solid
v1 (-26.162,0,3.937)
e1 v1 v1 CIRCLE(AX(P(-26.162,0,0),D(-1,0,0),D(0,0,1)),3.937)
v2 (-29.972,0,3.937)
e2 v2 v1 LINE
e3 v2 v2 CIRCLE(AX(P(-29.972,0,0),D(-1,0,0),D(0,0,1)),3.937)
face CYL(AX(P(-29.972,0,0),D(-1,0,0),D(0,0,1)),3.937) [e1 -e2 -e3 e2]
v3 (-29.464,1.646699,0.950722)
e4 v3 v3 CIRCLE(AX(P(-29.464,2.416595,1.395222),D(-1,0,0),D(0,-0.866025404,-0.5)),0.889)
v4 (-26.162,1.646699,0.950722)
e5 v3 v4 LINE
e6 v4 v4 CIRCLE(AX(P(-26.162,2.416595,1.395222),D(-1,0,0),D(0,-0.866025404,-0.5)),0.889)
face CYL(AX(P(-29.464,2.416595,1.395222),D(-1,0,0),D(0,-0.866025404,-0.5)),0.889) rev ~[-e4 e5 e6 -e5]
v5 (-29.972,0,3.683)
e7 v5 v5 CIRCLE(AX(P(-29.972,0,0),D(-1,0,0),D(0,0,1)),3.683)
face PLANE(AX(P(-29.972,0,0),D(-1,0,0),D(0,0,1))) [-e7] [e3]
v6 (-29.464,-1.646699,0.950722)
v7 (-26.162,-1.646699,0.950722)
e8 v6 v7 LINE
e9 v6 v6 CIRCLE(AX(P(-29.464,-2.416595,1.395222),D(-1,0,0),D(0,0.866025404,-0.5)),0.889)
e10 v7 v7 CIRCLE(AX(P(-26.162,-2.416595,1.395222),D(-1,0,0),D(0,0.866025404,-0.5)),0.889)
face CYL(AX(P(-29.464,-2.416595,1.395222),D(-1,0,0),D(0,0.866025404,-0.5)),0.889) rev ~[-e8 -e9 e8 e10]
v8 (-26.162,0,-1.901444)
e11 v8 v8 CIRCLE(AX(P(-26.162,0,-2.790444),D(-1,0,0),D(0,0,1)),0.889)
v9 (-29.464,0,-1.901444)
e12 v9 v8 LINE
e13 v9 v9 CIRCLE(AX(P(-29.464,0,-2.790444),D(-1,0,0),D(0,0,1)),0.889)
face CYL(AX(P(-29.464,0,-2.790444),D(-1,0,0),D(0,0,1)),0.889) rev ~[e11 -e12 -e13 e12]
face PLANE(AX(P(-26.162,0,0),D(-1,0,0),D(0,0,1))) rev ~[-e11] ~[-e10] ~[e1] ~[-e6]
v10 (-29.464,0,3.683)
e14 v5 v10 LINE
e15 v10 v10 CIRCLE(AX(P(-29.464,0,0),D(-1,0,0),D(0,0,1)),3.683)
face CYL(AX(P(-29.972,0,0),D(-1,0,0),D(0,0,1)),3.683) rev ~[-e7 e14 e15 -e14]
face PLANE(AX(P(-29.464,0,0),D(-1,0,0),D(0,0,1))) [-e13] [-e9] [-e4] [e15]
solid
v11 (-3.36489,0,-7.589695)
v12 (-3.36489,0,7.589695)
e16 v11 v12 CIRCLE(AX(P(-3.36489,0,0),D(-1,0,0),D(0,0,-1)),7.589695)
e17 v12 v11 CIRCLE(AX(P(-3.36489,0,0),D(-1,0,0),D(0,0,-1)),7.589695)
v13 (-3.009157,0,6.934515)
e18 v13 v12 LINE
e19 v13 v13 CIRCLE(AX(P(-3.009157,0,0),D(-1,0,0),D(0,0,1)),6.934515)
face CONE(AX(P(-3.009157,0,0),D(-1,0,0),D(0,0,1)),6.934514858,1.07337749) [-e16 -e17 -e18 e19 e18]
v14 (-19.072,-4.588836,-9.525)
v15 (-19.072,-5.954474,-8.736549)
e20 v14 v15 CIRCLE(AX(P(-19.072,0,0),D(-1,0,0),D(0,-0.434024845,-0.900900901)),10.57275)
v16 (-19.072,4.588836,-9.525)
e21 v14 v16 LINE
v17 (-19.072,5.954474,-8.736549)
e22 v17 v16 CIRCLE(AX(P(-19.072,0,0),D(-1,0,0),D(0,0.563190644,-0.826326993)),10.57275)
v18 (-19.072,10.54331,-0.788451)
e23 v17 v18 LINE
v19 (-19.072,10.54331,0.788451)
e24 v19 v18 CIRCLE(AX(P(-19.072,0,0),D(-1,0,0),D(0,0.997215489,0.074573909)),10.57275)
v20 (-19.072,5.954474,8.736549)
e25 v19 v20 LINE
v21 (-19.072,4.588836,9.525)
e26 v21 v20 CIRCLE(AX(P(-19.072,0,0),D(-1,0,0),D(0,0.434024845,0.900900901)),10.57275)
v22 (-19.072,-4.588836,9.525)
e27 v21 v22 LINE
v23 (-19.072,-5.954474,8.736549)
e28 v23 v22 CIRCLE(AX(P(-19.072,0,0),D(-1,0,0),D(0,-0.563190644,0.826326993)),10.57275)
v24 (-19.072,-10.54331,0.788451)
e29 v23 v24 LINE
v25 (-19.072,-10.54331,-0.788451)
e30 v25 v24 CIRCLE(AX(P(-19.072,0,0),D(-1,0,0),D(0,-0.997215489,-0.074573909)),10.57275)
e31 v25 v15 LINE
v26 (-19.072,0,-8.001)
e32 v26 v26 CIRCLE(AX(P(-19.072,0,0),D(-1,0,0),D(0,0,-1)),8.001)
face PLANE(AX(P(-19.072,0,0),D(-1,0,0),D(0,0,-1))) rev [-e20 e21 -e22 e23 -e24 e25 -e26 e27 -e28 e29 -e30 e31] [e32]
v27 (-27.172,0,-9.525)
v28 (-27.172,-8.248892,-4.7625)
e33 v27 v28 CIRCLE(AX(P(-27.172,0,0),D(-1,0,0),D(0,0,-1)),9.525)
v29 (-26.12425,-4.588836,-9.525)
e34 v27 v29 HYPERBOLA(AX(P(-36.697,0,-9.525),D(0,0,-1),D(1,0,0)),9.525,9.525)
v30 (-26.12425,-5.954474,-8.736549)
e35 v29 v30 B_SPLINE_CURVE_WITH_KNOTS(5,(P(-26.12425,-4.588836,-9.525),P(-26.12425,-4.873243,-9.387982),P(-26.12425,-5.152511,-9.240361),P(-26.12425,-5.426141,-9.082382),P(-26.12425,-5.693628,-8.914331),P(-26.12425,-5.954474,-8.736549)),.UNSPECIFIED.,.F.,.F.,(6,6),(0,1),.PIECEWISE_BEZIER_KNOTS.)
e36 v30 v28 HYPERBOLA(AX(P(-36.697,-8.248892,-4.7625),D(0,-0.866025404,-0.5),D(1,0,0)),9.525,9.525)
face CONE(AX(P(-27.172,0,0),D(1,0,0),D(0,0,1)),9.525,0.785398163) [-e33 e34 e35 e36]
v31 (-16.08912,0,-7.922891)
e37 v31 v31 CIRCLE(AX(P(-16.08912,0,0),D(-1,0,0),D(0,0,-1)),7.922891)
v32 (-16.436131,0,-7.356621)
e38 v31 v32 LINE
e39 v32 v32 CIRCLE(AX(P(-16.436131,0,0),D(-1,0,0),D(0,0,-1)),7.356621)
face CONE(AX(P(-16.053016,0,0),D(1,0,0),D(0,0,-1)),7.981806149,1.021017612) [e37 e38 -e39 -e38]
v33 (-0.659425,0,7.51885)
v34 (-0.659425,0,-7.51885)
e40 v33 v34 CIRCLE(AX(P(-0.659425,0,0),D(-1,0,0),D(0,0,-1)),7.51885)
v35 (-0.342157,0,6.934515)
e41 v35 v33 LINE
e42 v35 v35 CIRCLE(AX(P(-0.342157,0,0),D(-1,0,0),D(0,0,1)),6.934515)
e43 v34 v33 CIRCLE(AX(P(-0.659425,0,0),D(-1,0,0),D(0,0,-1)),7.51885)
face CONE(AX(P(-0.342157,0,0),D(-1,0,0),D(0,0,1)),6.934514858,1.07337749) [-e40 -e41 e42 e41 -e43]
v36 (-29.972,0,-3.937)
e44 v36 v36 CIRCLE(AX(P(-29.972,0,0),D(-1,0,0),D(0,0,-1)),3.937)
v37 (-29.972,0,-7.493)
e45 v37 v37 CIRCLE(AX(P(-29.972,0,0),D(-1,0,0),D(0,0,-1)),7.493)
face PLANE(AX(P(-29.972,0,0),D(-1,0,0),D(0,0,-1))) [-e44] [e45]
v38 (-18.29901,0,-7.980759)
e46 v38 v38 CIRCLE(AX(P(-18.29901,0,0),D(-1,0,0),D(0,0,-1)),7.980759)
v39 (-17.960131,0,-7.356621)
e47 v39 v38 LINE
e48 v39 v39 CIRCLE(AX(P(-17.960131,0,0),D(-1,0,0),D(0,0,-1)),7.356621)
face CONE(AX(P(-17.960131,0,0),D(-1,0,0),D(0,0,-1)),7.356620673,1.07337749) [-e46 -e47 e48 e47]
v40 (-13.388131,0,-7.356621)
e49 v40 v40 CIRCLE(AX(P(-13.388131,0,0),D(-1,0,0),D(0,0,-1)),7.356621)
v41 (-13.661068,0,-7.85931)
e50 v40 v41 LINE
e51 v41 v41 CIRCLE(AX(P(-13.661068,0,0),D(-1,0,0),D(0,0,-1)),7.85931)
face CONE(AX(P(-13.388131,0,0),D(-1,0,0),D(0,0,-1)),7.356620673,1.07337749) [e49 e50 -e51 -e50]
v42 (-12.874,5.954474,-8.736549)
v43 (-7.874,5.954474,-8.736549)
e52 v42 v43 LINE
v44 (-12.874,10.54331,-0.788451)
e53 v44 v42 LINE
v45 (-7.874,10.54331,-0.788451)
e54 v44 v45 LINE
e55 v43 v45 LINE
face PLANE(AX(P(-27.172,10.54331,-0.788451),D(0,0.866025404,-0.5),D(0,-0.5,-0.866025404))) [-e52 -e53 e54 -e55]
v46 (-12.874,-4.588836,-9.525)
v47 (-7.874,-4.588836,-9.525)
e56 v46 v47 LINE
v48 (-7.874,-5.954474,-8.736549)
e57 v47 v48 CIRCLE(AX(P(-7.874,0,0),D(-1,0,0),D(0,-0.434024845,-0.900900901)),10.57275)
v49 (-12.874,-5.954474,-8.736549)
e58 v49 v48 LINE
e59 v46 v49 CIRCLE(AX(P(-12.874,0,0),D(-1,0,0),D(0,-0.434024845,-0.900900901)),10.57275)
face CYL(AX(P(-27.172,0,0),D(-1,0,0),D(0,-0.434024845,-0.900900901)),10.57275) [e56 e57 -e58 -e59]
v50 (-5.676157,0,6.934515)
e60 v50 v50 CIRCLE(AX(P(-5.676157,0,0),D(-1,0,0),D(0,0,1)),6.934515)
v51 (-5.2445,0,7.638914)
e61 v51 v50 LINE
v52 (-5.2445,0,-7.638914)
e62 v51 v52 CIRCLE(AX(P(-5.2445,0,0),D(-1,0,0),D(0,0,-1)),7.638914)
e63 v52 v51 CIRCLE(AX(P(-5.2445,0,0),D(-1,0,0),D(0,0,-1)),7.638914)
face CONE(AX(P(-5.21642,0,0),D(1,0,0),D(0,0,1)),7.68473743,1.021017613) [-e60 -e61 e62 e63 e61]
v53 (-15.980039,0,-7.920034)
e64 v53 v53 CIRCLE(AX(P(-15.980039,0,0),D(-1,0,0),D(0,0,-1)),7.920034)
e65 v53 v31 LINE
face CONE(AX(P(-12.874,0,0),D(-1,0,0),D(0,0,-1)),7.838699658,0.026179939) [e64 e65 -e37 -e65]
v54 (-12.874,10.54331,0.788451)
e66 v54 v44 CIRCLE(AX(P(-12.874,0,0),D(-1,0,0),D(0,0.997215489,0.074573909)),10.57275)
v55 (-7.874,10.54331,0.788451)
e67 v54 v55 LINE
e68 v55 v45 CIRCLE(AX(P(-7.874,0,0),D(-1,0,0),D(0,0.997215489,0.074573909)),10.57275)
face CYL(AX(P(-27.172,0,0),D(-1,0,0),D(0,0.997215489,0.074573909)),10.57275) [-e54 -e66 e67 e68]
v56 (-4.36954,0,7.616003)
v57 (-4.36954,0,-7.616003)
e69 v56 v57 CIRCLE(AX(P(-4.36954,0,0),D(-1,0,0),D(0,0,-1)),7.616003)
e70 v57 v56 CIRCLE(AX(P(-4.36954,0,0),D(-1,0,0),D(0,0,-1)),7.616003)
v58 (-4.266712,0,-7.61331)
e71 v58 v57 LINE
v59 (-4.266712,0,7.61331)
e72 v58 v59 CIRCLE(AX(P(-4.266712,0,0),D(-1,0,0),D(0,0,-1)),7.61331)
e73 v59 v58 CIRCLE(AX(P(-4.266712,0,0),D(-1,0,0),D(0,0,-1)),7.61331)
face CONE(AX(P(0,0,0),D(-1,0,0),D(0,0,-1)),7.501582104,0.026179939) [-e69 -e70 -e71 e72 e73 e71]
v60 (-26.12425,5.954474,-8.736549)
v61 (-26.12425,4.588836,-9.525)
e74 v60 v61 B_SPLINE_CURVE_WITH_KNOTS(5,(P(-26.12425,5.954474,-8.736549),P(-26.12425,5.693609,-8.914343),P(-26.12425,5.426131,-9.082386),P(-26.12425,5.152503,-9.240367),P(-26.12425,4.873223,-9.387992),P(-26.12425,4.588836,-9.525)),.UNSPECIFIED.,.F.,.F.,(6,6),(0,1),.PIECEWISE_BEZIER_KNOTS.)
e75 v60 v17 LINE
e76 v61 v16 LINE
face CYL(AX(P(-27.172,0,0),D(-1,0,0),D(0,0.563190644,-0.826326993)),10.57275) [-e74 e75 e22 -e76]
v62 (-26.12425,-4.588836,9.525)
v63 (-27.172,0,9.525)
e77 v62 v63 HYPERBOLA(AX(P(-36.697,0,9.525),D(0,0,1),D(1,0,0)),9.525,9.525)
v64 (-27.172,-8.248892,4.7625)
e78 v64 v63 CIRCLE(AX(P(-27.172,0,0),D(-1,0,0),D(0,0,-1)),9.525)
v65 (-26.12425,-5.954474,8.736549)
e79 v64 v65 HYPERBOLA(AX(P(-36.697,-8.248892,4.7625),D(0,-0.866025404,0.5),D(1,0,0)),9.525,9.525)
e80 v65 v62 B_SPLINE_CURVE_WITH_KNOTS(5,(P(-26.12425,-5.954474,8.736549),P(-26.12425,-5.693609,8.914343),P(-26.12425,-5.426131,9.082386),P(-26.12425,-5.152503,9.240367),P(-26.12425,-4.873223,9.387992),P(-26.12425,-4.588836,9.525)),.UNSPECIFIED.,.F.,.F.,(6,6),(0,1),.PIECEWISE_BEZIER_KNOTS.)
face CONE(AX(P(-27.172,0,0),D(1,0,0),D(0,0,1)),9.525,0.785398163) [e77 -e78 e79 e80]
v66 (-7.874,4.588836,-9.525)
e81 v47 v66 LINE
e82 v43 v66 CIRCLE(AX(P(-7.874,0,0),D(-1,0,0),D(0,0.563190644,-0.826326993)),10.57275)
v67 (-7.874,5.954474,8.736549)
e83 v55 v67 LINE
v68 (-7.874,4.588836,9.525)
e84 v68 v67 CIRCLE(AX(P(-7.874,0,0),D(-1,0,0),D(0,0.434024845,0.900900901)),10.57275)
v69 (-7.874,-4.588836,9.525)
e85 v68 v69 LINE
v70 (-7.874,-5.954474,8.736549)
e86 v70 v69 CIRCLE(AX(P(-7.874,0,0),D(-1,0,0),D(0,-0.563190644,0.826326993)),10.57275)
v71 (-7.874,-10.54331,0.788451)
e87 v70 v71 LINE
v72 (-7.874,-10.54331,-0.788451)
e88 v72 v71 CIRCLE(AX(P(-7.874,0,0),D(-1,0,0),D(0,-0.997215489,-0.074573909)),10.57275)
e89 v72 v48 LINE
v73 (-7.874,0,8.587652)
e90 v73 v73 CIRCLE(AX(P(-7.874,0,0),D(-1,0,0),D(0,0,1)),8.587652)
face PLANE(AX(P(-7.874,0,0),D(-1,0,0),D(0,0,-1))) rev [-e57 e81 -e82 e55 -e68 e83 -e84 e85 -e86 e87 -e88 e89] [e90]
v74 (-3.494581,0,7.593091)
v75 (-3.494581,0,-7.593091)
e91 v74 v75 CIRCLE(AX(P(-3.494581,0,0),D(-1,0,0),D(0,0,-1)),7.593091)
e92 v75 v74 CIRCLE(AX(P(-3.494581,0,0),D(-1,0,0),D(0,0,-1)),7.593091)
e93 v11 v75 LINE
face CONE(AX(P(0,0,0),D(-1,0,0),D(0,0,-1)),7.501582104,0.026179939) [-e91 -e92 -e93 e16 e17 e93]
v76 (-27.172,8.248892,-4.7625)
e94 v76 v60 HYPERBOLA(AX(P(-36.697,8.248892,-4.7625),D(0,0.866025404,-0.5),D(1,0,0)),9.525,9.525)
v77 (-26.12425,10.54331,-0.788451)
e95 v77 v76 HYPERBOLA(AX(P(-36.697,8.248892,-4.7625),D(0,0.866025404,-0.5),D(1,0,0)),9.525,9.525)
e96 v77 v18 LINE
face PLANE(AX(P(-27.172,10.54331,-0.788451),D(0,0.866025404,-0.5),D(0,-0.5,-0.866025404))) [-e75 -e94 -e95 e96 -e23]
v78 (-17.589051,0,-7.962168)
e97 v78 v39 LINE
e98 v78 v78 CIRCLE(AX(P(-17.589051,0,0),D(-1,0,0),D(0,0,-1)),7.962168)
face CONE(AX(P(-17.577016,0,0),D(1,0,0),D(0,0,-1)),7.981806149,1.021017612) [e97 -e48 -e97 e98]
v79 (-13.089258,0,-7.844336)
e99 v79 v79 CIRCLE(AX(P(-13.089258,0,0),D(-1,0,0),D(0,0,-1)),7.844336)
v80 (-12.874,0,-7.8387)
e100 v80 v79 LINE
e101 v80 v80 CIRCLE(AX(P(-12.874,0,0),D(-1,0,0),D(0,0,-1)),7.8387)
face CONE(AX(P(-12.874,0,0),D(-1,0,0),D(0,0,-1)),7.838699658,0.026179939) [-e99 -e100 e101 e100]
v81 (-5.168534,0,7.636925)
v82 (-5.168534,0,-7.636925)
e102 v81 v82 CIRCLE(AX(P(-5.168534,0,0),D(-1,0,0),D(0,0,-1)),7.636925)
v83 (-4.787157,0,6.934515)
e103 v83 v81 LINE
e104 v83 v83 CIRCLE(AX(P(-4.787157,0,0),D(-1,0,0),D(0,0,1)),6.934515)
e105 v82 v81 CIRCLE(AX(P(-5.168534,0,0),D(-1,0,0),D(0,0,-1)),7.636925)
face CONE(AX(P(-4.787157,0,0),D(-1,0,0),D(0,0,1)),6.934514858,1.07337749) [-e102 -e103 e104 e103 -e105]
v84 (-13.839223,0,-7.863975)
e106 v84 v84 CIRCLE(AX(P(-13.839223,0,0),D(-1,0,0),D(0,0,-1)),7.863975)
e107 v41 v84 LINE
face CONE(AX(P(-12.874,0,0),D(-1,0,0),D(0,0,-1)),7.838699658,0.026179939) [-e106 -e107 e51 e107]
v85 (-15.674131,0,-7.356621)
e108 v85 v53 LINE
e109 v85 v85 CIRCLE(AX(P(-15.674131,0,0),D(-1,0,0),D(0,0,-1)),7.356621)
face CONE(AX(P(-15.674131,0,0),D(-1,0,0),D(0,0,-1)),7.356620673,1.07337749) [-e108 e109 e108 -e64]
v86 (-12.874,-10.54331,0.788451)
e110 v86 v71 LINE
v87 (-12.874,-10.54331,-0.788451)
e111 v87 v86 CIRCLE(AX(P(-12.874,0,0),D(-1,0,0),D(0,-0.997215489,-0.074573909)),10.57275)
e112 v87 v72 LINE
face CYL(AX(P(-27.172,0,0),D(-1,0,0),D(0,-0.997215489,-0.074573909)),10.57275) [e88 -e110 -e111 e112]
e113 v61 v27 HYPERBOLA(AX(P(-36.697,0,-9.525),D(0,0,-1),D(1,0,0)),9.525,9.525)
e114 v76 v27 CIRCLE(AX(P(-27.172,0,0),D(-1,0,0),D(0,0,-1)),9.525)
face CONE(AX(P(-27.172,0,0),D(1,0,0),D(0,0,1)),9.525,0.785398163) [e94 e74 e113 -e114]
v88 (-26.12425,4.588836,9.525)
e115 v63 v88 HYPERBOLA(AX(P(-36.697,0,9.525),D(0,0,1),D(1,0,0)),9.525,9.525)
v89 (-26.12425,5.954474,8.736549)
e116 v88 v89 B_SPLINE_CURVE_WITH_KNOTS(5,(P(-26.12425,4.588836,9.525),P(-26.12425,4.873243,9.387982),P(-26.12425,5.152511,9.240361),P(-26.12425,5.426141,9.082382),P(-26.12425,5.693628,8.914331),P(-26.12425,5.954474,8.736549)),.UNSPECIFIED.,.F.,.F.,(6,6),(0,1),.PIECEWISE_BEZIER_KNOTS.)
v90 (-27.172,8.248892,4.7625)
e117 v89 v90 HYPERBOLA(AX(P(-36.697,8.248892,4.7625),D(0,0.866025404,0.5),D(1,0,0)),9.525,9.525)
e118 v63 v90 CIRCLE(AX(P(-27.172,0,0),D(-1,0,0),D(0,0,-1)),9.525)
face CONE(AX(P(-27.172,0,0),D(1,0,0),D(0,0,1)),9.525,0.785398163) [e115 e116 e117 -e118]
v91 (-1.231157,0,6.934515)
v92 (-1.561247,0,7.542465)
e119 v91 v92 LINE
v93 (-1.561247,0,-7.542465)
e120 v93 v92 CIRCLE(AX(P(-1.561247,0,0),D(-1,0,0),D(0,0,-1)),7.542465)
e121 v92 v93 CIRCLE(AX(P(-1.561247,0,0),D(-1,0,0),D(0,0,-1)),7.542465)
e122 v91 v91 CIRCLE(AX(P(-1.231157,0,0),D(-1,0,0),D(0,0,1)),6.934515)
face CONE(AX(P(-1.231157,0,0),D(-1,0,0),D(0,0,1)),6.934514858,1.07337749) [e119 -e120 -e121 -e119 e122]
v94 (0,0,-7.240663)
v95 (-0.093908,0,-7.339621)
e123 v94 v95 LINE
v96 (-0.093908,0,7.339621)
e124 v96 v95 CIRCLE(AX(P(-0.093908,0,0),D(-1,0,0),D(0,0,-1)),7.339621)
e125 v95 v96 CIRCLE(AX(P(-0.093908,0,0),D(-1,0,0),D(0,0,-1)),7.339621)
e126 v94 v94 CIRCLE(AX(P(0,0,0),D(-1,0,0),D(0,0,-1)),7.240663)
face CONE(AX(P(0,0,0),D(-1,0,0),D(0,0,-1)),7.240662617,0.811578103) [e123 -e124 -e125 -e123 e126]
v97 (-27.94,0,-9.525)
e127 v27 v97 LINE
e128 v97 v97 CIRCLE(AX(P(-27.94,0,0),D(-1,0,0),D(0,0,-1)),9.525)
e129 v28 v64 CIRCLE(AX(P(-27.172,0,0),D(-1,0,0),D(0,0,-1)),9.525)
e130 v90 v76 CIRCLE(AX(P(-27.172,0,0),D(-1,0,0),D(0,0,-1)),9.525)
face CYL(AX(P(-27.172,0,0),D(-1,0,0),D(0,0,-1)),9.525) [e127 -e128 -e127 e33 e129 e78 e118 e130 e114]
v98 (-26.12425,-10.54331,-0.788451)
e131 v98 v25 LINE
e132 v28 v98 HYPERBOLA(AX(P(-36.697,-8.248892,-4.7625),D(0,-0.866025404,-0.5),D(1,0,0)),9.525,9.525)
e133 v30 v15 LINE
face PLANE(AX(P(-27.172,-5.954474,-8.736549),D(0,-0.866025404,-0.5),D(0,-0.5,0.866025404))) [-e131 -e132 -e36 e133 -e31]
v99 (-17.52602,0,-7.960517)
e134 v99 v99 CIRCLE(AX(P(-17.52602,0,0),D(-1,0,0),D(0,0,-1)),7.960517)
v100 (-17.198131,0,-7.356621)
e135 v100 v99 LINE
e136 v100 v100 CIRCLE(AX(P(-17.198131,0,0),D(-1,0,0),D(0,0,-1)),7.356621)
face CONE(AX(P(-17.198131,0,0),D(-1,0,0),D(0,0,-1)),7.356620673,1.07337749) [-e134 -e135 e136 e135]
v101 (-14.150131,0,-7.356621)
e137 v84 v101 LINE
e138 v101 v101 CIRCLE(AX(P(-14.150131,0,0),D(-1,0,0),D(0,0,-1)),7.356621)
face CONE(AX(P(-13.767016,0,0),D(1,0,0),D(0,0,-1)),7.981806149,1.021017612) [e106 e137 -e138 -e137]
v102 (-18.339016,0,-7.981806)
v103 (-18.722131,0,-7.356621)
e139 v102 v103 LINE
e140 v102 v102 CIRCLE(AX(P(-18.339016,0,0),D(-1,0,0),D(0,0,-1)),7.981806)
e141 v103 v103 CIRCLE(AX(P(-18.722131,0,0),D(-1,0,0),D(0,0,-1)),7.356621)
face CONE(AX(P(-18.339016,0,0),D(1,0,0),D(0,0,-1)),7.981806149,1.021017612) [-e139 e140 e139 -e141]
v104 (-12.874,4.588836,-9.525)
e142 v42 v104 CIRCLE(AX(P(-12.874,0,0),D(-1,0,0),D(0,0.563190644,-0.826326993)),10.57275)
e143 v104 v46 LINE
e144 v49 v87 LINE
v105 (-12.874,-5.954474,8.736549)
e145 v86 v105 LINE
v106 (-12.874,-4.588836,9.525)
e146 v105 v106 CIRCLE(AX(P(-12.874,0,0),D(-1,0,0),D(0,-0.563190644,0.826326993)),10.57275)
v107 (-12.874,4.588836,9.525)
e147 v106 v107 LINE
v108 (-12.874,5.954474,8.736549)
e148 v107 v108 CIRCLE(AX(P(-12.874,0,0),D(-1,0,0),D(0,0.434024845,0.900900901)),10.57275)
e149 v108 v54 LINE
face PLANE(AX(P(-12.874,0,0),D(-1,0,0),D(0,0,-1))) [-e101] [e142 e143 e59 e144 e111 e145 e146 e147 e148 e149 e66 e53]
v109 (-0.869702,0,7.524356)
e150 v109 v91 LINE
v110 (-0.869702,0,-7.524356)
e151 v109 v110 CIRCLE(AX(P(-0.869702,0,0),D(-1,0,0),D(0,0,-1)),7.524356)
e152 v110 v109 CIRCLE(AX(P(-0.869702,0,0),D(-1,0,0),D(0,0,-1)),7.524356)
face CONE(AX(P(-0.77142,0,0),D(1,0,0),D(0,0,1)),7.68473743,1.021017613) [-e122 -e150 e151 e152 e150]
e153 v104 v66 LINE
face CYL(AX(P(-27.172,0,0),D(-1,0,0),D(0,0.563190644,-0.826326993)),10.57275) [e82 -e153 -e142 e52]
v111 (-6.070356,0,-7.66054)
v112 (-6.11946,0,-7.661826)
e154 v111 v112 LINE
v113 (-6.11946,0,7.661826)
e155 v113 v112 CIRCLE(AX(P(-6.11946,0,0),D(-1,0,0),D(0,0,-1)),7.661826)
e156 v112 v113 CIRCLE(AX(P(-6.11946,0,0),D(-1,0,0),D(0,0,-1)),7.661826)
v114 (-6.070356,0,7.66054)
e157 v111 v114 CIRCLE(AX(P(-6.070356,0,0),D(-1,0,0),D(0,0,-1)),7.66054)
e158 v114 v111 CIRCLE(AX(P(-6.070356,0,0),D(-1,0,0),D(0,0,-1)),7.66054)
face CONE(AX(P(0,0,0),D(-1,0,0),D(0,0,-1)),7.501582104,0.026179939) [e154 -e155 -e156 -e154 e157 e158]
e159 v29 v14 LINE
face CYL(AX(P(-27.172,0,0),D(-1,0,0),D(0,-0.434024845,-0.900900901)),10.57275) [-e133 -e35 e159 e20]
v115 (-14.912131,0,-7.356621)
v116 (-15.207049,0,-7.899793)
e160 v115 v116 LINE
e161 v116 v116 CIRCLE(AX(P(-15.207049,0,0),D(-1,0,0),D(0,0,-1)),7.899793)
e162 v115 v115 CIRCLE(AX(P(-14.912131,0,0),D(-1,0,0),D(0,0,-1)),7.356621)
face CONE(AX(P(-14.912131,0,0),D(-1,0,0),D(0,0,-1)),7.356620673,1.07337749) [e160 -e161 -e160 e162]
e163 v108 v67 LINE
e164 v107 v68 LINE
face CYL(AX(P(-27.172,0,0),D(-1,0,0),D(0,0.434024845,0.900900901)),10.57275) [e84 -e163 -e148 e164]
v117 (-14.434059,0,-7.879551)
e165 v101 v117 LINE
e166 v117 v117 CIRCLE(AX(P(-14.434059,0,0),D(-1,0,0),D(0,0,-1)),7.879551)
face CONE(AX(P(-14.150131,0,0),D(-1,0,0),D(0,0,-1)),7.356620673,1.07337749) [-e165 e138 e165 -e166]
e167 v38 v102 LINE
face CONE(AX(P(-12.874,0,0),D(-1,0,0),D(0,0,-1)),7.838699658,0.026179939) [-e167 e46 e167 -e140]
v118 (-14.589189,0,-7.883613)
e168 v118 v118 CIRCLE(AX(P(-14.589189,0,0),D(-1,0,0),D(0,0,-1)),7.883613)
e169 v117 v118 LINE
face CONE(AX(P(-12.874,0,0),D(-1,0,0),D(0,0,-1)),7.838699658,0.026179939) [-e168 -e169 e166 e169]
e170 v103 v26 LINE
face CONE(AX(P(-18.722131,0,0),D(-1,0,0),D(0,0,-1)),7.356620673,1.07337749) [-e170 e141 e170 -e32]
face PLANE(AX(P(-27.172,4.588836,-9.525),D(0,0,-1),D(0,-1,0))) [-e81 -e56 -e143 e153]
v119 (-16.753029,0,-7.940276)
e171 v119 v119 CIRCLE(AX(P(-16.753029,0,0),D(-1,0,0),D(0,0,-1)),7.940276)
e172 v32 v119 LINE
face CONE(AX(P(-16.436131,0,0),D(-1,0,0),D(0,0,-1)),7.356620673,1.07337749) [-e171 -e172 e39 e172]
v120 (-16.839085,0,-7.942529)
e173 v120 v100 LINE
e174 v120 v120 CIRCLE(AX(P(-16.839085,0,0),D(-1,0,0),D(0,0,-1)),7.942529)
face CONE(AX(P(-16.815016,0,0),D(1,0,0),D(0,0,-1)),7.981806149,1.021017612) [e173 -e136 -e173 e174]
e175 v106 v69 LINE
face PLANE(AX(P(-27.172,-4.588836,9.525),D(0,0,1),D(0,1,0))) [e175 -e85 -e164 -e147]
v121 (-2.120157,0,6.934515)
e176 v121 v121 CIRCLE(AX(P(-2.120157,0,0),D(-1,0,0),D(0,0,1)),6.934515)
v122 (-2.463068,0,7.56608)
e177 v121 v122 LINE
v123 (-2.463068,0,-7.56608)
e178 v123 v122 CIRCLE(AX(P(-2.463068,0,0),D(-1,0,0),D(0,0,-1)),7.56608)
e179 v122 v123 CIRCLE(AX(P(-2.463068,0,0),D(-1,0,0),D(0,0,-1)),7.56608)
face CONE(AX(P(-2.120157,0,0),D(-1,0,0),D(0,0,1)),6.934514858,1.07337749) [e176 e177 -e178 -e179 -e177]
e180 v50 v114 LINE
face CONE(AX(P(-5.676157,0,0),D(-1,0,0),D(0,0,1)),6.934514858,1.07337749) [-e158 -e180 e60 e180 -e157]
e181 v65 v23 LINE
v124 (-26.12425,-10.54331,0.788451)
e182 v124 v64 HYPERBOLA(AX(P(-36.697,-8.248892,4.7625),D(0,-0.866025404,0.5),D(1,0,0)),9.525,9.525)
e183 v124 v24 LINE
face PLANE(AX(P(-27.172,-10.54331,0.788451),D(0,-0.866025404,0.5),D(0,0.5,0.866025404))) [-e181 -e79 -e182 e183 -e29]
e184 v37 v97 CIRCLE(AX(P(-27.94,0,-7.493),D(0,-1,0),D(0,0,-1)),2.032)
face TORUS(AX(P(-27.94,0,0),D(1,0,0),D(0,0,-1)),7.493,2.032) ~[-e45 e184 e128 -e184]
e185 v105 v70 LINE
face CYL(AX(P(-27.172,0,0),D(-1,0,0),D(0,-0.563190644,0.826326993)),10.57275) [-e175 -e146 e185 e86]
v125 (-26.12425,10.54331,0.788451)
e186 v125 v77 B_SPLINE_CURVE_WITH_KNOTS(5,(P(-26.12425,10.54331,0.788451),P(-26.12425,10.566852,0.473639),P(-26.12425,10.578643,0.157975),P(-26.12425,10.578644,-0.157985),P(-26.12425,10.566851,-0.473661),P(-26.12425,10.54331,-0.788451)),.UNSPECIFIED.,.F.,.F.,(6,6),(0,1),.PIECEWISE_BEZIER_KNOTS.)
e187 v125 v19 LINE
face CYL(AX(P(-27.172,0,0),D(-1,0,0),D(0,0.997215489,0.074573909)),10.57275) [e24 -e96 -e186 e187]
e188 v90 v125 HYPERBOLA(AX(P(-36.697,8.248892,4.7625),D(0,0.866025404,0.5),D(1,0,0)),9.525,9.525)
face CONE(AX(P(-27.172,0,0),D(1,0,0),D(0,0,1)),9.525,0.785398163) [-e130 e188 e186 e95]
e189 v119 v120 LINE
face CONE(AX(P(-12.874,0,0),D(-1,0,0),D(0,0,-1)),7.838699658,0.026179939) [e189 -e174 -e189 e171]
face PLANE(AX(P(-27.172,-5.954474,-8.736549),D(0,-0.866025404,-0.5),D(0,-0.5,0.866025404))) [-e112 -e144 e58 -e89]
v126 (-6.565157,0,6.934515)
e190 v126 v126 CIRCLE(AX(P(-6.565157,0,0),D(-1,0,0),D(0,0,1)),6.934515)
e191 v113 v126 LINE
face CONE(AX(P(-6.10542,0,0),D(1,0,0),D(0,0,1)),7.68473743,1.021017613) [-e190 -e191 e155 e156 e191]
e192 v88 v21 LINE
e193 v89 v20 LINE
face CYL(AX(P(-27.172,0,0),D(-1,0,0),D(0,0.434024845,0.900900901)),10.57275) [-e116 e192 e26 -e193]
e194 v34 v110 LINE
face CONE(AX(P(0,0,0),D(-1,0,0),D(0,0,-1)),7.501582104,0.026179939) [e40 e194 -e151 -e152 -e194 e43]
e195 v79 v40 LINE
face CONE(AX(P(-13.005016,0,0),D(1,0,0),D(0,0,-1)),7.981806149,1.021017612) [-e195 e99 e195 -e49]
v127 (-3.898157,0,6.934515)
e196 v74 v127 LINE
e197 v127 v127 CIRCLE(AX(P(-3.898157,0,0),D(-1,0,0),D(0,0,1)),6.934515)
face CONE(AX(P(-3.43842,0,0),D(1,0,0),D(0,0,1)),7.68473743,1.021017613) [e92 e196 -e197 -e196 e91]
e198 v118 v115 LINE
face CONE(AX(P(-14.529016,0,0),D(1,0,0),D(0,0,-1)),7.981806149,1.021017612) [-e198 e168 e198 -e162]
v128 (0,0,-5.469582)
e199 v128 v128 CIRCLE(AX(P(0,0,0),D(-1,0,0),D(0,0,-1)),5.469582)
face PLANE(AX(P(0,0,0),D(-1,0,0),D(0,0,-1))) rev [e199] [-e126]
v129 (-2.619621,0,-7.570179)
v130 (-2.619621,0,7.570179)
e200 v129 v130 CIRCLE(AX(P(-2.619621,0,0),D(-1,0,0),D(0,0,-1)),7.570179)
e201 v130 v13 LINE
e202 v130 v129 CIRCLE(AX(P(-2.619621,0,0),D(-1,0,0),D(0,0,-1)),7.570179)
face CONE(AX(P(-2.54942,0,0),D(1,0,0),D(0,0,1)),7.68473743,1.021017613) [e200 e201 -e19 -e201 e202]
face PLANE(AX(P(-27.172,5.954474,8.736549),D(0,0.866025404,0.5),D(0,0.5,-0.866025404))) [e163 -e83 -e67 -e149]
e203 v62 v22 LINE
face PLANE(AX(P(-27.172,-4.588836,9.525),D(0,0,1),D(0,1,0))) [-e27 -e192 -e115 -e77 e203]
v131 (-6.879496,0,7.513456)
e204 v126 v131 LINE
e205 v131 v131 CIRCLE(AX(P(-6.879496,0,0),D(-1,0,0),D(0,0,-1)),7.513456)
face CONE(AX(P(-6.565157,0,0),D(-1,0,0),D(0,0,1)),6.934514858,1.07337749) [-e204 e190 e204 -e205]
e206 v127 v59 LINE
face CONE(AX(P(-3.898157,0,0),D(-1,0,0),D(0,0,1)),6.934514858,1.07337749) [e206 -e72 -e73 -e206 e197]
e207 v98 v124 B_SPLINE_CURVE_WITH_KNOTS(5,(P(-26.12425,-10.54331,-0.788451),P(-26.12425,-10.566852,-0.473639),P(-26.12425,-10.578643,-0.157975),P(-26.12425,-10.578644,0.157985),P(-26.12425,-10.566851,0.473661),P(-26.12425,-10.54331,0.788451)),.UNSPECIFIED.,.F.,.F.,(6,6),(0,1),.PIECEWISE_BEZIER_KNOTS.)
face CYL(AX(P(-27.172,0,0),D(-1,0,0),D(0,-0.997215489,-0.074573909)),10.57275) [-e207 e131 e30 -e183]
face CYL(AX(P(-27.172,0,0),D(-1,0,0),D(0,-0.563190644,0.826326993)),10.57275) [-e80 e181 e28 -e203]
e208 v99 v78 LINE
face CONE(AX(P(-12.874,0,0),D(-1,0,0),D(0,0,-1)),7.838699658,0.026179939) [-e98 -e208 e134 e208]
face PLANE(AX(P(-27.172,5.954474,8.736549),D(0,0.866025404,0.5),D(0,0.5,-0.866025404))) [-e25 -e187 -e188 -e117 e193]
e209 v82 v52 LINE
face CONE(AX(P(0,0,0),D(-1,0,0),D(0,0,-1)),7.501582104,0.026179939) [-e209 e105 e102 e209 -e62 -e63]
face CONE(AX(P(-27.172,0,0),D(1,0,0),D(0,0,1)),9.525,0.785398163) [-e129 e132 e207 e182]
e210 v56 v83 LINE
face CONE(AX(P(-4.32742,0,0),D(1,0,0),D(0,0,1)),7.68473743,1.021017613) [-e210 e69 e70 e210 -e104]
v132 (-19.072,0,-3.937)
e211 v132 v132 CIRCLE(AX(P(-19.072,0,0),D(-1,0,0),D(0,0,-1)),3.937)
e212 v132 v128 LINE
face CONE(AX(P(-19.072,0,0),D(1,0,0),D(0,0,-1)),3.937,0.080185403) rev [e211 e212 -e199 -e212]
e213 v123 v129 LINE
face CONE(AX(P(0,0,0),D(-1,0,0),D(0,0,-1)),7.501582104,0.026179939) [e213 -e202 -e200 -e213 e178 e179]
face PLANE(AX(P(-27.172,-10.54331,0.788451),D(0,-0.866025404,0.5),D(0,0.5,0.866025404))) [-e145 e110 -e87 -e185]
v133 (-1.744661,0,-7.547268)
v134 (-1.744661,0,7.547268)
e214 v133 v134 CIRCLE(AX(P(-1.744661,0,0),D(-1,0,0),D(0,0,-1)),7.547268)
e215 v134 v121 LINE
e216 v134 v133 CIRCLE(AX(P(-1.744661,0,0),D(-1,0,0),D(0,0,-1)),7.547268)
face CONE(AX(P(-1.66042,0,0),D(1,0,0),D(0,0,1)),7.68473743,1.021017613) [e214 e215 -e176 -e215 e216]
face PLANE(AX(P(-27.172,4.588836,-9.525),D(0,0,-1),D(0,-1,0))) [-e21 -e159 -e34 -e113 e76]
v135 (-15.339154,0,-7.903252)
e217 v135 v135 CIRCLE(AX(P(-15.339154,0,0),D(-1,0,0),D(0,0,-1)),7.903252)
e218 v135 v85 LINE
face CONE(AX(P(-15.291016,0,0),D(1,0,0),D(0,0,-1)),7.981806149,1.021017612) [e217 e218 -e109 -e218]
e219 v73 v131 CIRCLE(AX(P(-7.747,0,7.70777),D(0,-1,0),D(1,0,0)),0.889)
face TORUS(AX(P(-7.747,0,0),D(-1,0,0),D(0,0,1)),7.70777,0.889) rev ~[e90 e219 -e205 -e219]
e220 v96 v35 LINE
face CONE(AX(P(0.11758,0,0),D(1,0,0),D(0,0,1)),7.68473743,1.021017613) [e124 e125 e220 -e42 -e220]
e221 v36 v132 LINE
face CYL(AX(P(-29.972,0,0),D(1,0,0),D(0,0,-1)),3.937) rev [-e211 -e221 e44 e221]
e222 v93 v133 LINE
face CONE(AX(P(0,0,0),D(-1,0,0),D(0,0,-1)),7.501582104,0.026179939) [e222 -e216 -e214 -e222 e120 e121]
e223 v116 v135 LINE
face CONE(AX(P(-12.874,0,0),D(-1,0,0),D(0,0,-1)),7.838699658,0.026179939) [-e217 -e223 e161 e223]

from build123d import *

# Parameters (mm, degrees)
SKETCH12_OUTSIDE_W = 52.432
SKETCH12_OUTSIDE_H = 52.432
CUT_EXTRUDE2_DEPTH = 28.172
FILLET4_R          = 2.032
SKETCH19_OUTSIDE_W = 33.316
SKETCH19_OUTSIDE_H = 35.412
SKETCH19_OUTSIDE_R = 9.525
CUT_EXTRUDE3_DEPTH = 1.999996
CUT_EXTRUDE3_DRAFT = -45
CHAMFER1_SIZE      = 0.260919487
CHAMFER1_SIZE2     = 0.254
SKETCH21_R         = 3.937
PLUG_DEPTH         = 3.81
SKETCH22_R         = 3.683
CUT_EXTRUDE4_DEPTH = 0.508
SKETCH27_R         = 0.889
PLUGHOLES_DEPTH    = 30.464
CIRPATTERN1_COUNT  = 3
LPATTERN1_COUNT    = 8
LPATTERN1_PITCH    = 0.762
LPATTERN2_COUNT    = 9
LPATTERN2_PITCH    = 0.889
SKETCH32_R         = 0.889


with BuildPart() as part:
    # Sketch10 → Revolve2 (revolve)
    with BuildSketch(Plane.XY, mode=Mode.PRIVATE) as revolve2_sk:
        Polygon((-29.972, 3.937), (-19.072, 3.937), (0, 5.469582104), (0, 7.501582104), (-7.874, 7.70777005), (-7.874, 19.05), (-12.874, 19.05), (-12.874, 7.838699658), (-19.072, 8.001), (-19.072, 19.05), (-27.172, 19.05), (-27.172, 9.525), (-29.972, 9.525), align=None)
    revolve(revolve2_sk.sketch.rotate(Axis((0, 0, 0), (-1, 0, 0)), 90), axis=Axis((0, 0, 0), (-1, 0, 0)))  # turned: the seam where the file's is

    # Sketch12 outside → Cut-Extrude2 (cut, through all)
    with BuildSketch(Plane.ZY.offset(27.172)):
        Rectangle(SKETCH12_OUTSIDE_W, SKETCH12_OUTSIDE_H)
        with BuildLine():
            Line((-0.788451287, 10.543310065), (-8.736548713, 5.954473877))
            ThreePointArc((-8.736548713, 5.954473877), (-9.156270088, 5.286375), (-9.525, 4.588836188))
            Line((-9.525, 4.588836188), (-9.525, -4.588836188))
            ThreePointArc((-9.525, -4.588836188), (-9.156270088, -5.286375), (-8.736548713, -5.954473877))
            Line((-8.736548713, -5.954473877), (-0.788451287, -10.543310065))
            ThreePointArc((-0.788451287, -10.543310065), (0, -10.57275), (0.788451287, -10.543310065))
            Line((0.788451287, -10.543310065), (8.736548713, -5.954473877))
            ThreePointArc((8.736548713, -5.954473877), (9.156270088, -5.286375), (9.525, -4.588836188))
            Line((9.525, -4.588836188), (9.525, 4.588836188))
            ThreePointArc((9.525, 4.588836188), (9.156270088, 5.286375), (8.736548713, 5.954473877))
            Line((8.736548713, 5.954473877), (0.788451287, 10.543310065))
            ThreePointArc((0.788451287, 10.543310065), (0, 10.57275), (-0.788451287, 10.543310065))
        make_face(mode=Mode.SUBTRACT)
    extrude(amount=-CUT_EXTRUDE2_DEPTH, mode=Mode.SUBTRACT)

    # Fillet4
    fillet4_edges = [part.edges().sort_by_distance(p)[0] for p in [
        (-29.972, 0, 9.525),
    ]]
    fillet(fillet4_edges, radius=FILLET4_R)


with BuildPart() as cut_extrude3_tool:
    # Sketch19 outside → Cut-Extrude3 (with draft: the straight prism first)
    with BuildSketch(Plane.ZY.offset(27.172)):
        Rectangle(SKETCH19_OUTSIDE_W, SKETCH19_OUTSIDE_H)
        Circle(SKETCH19_OUTSIDE_R, mode=Mode.SUBTRACT)
    extrude(amount=-CUT_EXTRUDE3_DEPTH)
    # Cut-Extrude3: the draft: its side faces are tilted about the plane it starts from
    cut_extrude3_sides = [cut_extrude3_tool.faces().sort_by_distance(p)[0] for p in [
        (-26.172002, -17.706, 0),
        (-26.172002, 0, 16.658),
        (-26.172002, 17.706, 0),
        (-26.172002, 0, -16.658),
        (-26.172002, 0, -9.525),
    ]]
    draft(cut_extrude3_sides, Plane.ZY.offset(27.172), CUT_EXTRUDE3_DRAFT)


with BuildPart() as part_1:
    add(part.part)

    # Cut-Extrude3: cut by cut_extrude3_tool
    add(cut_extrude3_tool.part, mode=Mode.SUBTRACT)

    # Chamfer1
    chamfer1_edges = [part_1.edges().sort_by_distance(p)[0] for p in [
        (0, 0, 7.501582104),
    ]]
    chamfer1_side = [part_1.faces().sort_by_distance(p)[0] for p in [
        (0, 0, 5.681758887),
    ]]
    chamfer(chamfer1_edges, length=CHAMFER1_SIZE, length2=CHAMFER1_SIZE2, reference=chamfer1_side[0])

    # Sketch29 → Cut-Revolve1 (revolve, cut)
    with BuildSketch(Plane.XY, mode=Mode.PRIVATE) as cut_revolve1_sk:
        Polygon((-19.072, 8.001), (-18.339016419, 7.981806149), (-18.722130572, 7.356620673), align=None)
    cut_revolve1 = revolve(cut_revolve1_sk.sketch.rotate(Axis((0, 0, 0), (-1, 0, 0)), 90), axis=Axis((0, 0, 0), (-1, 0, 0)), mode=Mode.SUBTRACT)  # turned: the seam where the file's is

    # LPattern1: Cut-Revolve1 ×8
    with Locations(*[(i * LPATTERN1_PITCH, 0, 0) for i in range(1, LPATTERN1_COUNT)]):
        add(cut_revolve1, mode=Mode.SUBTRACT)

    # Sketch30 → Cut-Revolve2 (revolve, cut)
    with BuildSketch(Plane.XY, mode=Mode.PRIVATE) as cut_revolve2_sk:
        Polygon((-7.874, 7.70777005), (-6.994419703, 7.68473743), (-7.454156686, 6.934514858), align=None)
    cut_revolve2 = revolve(cut_revolve2_sk.sketch.rotate(Axis((0, 0, 0), (-1, 0, 0)), 270), axis=Axis((0, 0, 0), (-1, 0, 0)), mode=Mode.SUBTRACT)  # turned: the seam where the file's is

    # LPattern2: Cut-Revolve2 ×9
    with Locations(*[(i * LPATTERN2_PITCH, 0, 0) for i in range(1, LPATTERN2_COUNT)]):
        add(cut_revolve2, mode=Mode.SUBTRACT)

    # Sketch32 → Cut-Revolve3 (revolve, cut)
    with BuildSketch(Plane.XY, mode=Mode.PRIVATE) as cut_revolve3_sk:
        with Locations((-7.747, 7.70777005)):
            Circle(SKETCH32_R)
    revolve(cut_revolve3_sk.sketch.rotate(Axis((0, 0, 0), (-1, 0, 0)), 270), axis=Axis((0, 0, 0), (-1, 0, 0)), mode=Mode.SUBTRACT)  # turned: the seam where the file's is


with BuildPart() as body_2:
    # Sketch21 → plug (new body)
    with BuildSketch(Plane.ZY.offset(29.972)):
        Circle(SKETCH21_R)
    extrude(amount=-PLUG_DEPTH)

    # Sketch22 → Cut-Extrude4 (cut)
    with BuildSketch(Plane.ZY.offset(29.972)):
        Circle(SKETCH22_R)
    extrude(amount=-CUT_EXTRUDE4_DEPTH, mode=Mode.SUBTRACT)

    # Sketch27 → plugholes (cut, through all)
    with BuildSketch(Plane.ZY.offset(29.464)):
        with Locations((-2.790444, 0)):
            Circle(SKETCH27_R)
    plugholes = extrude(amount=-PLUGHOLES_DEPTH, mode=Mode.SUBTRACT)

    # CirPattern1: plugholes ×3 about axis
    cirpattern1_axis = Axis((0, 0, 0), (1, 0, 0))
    for i in range(1, CIRPATTERN1_COUNT):
        add(plugholes.rotate(cirpattern1_axis, i * 360 / CIRPATTERN1_COUNT), mode=Mode.SUBTRACT)


solid = Compound([part_1.part, body_2.part])
